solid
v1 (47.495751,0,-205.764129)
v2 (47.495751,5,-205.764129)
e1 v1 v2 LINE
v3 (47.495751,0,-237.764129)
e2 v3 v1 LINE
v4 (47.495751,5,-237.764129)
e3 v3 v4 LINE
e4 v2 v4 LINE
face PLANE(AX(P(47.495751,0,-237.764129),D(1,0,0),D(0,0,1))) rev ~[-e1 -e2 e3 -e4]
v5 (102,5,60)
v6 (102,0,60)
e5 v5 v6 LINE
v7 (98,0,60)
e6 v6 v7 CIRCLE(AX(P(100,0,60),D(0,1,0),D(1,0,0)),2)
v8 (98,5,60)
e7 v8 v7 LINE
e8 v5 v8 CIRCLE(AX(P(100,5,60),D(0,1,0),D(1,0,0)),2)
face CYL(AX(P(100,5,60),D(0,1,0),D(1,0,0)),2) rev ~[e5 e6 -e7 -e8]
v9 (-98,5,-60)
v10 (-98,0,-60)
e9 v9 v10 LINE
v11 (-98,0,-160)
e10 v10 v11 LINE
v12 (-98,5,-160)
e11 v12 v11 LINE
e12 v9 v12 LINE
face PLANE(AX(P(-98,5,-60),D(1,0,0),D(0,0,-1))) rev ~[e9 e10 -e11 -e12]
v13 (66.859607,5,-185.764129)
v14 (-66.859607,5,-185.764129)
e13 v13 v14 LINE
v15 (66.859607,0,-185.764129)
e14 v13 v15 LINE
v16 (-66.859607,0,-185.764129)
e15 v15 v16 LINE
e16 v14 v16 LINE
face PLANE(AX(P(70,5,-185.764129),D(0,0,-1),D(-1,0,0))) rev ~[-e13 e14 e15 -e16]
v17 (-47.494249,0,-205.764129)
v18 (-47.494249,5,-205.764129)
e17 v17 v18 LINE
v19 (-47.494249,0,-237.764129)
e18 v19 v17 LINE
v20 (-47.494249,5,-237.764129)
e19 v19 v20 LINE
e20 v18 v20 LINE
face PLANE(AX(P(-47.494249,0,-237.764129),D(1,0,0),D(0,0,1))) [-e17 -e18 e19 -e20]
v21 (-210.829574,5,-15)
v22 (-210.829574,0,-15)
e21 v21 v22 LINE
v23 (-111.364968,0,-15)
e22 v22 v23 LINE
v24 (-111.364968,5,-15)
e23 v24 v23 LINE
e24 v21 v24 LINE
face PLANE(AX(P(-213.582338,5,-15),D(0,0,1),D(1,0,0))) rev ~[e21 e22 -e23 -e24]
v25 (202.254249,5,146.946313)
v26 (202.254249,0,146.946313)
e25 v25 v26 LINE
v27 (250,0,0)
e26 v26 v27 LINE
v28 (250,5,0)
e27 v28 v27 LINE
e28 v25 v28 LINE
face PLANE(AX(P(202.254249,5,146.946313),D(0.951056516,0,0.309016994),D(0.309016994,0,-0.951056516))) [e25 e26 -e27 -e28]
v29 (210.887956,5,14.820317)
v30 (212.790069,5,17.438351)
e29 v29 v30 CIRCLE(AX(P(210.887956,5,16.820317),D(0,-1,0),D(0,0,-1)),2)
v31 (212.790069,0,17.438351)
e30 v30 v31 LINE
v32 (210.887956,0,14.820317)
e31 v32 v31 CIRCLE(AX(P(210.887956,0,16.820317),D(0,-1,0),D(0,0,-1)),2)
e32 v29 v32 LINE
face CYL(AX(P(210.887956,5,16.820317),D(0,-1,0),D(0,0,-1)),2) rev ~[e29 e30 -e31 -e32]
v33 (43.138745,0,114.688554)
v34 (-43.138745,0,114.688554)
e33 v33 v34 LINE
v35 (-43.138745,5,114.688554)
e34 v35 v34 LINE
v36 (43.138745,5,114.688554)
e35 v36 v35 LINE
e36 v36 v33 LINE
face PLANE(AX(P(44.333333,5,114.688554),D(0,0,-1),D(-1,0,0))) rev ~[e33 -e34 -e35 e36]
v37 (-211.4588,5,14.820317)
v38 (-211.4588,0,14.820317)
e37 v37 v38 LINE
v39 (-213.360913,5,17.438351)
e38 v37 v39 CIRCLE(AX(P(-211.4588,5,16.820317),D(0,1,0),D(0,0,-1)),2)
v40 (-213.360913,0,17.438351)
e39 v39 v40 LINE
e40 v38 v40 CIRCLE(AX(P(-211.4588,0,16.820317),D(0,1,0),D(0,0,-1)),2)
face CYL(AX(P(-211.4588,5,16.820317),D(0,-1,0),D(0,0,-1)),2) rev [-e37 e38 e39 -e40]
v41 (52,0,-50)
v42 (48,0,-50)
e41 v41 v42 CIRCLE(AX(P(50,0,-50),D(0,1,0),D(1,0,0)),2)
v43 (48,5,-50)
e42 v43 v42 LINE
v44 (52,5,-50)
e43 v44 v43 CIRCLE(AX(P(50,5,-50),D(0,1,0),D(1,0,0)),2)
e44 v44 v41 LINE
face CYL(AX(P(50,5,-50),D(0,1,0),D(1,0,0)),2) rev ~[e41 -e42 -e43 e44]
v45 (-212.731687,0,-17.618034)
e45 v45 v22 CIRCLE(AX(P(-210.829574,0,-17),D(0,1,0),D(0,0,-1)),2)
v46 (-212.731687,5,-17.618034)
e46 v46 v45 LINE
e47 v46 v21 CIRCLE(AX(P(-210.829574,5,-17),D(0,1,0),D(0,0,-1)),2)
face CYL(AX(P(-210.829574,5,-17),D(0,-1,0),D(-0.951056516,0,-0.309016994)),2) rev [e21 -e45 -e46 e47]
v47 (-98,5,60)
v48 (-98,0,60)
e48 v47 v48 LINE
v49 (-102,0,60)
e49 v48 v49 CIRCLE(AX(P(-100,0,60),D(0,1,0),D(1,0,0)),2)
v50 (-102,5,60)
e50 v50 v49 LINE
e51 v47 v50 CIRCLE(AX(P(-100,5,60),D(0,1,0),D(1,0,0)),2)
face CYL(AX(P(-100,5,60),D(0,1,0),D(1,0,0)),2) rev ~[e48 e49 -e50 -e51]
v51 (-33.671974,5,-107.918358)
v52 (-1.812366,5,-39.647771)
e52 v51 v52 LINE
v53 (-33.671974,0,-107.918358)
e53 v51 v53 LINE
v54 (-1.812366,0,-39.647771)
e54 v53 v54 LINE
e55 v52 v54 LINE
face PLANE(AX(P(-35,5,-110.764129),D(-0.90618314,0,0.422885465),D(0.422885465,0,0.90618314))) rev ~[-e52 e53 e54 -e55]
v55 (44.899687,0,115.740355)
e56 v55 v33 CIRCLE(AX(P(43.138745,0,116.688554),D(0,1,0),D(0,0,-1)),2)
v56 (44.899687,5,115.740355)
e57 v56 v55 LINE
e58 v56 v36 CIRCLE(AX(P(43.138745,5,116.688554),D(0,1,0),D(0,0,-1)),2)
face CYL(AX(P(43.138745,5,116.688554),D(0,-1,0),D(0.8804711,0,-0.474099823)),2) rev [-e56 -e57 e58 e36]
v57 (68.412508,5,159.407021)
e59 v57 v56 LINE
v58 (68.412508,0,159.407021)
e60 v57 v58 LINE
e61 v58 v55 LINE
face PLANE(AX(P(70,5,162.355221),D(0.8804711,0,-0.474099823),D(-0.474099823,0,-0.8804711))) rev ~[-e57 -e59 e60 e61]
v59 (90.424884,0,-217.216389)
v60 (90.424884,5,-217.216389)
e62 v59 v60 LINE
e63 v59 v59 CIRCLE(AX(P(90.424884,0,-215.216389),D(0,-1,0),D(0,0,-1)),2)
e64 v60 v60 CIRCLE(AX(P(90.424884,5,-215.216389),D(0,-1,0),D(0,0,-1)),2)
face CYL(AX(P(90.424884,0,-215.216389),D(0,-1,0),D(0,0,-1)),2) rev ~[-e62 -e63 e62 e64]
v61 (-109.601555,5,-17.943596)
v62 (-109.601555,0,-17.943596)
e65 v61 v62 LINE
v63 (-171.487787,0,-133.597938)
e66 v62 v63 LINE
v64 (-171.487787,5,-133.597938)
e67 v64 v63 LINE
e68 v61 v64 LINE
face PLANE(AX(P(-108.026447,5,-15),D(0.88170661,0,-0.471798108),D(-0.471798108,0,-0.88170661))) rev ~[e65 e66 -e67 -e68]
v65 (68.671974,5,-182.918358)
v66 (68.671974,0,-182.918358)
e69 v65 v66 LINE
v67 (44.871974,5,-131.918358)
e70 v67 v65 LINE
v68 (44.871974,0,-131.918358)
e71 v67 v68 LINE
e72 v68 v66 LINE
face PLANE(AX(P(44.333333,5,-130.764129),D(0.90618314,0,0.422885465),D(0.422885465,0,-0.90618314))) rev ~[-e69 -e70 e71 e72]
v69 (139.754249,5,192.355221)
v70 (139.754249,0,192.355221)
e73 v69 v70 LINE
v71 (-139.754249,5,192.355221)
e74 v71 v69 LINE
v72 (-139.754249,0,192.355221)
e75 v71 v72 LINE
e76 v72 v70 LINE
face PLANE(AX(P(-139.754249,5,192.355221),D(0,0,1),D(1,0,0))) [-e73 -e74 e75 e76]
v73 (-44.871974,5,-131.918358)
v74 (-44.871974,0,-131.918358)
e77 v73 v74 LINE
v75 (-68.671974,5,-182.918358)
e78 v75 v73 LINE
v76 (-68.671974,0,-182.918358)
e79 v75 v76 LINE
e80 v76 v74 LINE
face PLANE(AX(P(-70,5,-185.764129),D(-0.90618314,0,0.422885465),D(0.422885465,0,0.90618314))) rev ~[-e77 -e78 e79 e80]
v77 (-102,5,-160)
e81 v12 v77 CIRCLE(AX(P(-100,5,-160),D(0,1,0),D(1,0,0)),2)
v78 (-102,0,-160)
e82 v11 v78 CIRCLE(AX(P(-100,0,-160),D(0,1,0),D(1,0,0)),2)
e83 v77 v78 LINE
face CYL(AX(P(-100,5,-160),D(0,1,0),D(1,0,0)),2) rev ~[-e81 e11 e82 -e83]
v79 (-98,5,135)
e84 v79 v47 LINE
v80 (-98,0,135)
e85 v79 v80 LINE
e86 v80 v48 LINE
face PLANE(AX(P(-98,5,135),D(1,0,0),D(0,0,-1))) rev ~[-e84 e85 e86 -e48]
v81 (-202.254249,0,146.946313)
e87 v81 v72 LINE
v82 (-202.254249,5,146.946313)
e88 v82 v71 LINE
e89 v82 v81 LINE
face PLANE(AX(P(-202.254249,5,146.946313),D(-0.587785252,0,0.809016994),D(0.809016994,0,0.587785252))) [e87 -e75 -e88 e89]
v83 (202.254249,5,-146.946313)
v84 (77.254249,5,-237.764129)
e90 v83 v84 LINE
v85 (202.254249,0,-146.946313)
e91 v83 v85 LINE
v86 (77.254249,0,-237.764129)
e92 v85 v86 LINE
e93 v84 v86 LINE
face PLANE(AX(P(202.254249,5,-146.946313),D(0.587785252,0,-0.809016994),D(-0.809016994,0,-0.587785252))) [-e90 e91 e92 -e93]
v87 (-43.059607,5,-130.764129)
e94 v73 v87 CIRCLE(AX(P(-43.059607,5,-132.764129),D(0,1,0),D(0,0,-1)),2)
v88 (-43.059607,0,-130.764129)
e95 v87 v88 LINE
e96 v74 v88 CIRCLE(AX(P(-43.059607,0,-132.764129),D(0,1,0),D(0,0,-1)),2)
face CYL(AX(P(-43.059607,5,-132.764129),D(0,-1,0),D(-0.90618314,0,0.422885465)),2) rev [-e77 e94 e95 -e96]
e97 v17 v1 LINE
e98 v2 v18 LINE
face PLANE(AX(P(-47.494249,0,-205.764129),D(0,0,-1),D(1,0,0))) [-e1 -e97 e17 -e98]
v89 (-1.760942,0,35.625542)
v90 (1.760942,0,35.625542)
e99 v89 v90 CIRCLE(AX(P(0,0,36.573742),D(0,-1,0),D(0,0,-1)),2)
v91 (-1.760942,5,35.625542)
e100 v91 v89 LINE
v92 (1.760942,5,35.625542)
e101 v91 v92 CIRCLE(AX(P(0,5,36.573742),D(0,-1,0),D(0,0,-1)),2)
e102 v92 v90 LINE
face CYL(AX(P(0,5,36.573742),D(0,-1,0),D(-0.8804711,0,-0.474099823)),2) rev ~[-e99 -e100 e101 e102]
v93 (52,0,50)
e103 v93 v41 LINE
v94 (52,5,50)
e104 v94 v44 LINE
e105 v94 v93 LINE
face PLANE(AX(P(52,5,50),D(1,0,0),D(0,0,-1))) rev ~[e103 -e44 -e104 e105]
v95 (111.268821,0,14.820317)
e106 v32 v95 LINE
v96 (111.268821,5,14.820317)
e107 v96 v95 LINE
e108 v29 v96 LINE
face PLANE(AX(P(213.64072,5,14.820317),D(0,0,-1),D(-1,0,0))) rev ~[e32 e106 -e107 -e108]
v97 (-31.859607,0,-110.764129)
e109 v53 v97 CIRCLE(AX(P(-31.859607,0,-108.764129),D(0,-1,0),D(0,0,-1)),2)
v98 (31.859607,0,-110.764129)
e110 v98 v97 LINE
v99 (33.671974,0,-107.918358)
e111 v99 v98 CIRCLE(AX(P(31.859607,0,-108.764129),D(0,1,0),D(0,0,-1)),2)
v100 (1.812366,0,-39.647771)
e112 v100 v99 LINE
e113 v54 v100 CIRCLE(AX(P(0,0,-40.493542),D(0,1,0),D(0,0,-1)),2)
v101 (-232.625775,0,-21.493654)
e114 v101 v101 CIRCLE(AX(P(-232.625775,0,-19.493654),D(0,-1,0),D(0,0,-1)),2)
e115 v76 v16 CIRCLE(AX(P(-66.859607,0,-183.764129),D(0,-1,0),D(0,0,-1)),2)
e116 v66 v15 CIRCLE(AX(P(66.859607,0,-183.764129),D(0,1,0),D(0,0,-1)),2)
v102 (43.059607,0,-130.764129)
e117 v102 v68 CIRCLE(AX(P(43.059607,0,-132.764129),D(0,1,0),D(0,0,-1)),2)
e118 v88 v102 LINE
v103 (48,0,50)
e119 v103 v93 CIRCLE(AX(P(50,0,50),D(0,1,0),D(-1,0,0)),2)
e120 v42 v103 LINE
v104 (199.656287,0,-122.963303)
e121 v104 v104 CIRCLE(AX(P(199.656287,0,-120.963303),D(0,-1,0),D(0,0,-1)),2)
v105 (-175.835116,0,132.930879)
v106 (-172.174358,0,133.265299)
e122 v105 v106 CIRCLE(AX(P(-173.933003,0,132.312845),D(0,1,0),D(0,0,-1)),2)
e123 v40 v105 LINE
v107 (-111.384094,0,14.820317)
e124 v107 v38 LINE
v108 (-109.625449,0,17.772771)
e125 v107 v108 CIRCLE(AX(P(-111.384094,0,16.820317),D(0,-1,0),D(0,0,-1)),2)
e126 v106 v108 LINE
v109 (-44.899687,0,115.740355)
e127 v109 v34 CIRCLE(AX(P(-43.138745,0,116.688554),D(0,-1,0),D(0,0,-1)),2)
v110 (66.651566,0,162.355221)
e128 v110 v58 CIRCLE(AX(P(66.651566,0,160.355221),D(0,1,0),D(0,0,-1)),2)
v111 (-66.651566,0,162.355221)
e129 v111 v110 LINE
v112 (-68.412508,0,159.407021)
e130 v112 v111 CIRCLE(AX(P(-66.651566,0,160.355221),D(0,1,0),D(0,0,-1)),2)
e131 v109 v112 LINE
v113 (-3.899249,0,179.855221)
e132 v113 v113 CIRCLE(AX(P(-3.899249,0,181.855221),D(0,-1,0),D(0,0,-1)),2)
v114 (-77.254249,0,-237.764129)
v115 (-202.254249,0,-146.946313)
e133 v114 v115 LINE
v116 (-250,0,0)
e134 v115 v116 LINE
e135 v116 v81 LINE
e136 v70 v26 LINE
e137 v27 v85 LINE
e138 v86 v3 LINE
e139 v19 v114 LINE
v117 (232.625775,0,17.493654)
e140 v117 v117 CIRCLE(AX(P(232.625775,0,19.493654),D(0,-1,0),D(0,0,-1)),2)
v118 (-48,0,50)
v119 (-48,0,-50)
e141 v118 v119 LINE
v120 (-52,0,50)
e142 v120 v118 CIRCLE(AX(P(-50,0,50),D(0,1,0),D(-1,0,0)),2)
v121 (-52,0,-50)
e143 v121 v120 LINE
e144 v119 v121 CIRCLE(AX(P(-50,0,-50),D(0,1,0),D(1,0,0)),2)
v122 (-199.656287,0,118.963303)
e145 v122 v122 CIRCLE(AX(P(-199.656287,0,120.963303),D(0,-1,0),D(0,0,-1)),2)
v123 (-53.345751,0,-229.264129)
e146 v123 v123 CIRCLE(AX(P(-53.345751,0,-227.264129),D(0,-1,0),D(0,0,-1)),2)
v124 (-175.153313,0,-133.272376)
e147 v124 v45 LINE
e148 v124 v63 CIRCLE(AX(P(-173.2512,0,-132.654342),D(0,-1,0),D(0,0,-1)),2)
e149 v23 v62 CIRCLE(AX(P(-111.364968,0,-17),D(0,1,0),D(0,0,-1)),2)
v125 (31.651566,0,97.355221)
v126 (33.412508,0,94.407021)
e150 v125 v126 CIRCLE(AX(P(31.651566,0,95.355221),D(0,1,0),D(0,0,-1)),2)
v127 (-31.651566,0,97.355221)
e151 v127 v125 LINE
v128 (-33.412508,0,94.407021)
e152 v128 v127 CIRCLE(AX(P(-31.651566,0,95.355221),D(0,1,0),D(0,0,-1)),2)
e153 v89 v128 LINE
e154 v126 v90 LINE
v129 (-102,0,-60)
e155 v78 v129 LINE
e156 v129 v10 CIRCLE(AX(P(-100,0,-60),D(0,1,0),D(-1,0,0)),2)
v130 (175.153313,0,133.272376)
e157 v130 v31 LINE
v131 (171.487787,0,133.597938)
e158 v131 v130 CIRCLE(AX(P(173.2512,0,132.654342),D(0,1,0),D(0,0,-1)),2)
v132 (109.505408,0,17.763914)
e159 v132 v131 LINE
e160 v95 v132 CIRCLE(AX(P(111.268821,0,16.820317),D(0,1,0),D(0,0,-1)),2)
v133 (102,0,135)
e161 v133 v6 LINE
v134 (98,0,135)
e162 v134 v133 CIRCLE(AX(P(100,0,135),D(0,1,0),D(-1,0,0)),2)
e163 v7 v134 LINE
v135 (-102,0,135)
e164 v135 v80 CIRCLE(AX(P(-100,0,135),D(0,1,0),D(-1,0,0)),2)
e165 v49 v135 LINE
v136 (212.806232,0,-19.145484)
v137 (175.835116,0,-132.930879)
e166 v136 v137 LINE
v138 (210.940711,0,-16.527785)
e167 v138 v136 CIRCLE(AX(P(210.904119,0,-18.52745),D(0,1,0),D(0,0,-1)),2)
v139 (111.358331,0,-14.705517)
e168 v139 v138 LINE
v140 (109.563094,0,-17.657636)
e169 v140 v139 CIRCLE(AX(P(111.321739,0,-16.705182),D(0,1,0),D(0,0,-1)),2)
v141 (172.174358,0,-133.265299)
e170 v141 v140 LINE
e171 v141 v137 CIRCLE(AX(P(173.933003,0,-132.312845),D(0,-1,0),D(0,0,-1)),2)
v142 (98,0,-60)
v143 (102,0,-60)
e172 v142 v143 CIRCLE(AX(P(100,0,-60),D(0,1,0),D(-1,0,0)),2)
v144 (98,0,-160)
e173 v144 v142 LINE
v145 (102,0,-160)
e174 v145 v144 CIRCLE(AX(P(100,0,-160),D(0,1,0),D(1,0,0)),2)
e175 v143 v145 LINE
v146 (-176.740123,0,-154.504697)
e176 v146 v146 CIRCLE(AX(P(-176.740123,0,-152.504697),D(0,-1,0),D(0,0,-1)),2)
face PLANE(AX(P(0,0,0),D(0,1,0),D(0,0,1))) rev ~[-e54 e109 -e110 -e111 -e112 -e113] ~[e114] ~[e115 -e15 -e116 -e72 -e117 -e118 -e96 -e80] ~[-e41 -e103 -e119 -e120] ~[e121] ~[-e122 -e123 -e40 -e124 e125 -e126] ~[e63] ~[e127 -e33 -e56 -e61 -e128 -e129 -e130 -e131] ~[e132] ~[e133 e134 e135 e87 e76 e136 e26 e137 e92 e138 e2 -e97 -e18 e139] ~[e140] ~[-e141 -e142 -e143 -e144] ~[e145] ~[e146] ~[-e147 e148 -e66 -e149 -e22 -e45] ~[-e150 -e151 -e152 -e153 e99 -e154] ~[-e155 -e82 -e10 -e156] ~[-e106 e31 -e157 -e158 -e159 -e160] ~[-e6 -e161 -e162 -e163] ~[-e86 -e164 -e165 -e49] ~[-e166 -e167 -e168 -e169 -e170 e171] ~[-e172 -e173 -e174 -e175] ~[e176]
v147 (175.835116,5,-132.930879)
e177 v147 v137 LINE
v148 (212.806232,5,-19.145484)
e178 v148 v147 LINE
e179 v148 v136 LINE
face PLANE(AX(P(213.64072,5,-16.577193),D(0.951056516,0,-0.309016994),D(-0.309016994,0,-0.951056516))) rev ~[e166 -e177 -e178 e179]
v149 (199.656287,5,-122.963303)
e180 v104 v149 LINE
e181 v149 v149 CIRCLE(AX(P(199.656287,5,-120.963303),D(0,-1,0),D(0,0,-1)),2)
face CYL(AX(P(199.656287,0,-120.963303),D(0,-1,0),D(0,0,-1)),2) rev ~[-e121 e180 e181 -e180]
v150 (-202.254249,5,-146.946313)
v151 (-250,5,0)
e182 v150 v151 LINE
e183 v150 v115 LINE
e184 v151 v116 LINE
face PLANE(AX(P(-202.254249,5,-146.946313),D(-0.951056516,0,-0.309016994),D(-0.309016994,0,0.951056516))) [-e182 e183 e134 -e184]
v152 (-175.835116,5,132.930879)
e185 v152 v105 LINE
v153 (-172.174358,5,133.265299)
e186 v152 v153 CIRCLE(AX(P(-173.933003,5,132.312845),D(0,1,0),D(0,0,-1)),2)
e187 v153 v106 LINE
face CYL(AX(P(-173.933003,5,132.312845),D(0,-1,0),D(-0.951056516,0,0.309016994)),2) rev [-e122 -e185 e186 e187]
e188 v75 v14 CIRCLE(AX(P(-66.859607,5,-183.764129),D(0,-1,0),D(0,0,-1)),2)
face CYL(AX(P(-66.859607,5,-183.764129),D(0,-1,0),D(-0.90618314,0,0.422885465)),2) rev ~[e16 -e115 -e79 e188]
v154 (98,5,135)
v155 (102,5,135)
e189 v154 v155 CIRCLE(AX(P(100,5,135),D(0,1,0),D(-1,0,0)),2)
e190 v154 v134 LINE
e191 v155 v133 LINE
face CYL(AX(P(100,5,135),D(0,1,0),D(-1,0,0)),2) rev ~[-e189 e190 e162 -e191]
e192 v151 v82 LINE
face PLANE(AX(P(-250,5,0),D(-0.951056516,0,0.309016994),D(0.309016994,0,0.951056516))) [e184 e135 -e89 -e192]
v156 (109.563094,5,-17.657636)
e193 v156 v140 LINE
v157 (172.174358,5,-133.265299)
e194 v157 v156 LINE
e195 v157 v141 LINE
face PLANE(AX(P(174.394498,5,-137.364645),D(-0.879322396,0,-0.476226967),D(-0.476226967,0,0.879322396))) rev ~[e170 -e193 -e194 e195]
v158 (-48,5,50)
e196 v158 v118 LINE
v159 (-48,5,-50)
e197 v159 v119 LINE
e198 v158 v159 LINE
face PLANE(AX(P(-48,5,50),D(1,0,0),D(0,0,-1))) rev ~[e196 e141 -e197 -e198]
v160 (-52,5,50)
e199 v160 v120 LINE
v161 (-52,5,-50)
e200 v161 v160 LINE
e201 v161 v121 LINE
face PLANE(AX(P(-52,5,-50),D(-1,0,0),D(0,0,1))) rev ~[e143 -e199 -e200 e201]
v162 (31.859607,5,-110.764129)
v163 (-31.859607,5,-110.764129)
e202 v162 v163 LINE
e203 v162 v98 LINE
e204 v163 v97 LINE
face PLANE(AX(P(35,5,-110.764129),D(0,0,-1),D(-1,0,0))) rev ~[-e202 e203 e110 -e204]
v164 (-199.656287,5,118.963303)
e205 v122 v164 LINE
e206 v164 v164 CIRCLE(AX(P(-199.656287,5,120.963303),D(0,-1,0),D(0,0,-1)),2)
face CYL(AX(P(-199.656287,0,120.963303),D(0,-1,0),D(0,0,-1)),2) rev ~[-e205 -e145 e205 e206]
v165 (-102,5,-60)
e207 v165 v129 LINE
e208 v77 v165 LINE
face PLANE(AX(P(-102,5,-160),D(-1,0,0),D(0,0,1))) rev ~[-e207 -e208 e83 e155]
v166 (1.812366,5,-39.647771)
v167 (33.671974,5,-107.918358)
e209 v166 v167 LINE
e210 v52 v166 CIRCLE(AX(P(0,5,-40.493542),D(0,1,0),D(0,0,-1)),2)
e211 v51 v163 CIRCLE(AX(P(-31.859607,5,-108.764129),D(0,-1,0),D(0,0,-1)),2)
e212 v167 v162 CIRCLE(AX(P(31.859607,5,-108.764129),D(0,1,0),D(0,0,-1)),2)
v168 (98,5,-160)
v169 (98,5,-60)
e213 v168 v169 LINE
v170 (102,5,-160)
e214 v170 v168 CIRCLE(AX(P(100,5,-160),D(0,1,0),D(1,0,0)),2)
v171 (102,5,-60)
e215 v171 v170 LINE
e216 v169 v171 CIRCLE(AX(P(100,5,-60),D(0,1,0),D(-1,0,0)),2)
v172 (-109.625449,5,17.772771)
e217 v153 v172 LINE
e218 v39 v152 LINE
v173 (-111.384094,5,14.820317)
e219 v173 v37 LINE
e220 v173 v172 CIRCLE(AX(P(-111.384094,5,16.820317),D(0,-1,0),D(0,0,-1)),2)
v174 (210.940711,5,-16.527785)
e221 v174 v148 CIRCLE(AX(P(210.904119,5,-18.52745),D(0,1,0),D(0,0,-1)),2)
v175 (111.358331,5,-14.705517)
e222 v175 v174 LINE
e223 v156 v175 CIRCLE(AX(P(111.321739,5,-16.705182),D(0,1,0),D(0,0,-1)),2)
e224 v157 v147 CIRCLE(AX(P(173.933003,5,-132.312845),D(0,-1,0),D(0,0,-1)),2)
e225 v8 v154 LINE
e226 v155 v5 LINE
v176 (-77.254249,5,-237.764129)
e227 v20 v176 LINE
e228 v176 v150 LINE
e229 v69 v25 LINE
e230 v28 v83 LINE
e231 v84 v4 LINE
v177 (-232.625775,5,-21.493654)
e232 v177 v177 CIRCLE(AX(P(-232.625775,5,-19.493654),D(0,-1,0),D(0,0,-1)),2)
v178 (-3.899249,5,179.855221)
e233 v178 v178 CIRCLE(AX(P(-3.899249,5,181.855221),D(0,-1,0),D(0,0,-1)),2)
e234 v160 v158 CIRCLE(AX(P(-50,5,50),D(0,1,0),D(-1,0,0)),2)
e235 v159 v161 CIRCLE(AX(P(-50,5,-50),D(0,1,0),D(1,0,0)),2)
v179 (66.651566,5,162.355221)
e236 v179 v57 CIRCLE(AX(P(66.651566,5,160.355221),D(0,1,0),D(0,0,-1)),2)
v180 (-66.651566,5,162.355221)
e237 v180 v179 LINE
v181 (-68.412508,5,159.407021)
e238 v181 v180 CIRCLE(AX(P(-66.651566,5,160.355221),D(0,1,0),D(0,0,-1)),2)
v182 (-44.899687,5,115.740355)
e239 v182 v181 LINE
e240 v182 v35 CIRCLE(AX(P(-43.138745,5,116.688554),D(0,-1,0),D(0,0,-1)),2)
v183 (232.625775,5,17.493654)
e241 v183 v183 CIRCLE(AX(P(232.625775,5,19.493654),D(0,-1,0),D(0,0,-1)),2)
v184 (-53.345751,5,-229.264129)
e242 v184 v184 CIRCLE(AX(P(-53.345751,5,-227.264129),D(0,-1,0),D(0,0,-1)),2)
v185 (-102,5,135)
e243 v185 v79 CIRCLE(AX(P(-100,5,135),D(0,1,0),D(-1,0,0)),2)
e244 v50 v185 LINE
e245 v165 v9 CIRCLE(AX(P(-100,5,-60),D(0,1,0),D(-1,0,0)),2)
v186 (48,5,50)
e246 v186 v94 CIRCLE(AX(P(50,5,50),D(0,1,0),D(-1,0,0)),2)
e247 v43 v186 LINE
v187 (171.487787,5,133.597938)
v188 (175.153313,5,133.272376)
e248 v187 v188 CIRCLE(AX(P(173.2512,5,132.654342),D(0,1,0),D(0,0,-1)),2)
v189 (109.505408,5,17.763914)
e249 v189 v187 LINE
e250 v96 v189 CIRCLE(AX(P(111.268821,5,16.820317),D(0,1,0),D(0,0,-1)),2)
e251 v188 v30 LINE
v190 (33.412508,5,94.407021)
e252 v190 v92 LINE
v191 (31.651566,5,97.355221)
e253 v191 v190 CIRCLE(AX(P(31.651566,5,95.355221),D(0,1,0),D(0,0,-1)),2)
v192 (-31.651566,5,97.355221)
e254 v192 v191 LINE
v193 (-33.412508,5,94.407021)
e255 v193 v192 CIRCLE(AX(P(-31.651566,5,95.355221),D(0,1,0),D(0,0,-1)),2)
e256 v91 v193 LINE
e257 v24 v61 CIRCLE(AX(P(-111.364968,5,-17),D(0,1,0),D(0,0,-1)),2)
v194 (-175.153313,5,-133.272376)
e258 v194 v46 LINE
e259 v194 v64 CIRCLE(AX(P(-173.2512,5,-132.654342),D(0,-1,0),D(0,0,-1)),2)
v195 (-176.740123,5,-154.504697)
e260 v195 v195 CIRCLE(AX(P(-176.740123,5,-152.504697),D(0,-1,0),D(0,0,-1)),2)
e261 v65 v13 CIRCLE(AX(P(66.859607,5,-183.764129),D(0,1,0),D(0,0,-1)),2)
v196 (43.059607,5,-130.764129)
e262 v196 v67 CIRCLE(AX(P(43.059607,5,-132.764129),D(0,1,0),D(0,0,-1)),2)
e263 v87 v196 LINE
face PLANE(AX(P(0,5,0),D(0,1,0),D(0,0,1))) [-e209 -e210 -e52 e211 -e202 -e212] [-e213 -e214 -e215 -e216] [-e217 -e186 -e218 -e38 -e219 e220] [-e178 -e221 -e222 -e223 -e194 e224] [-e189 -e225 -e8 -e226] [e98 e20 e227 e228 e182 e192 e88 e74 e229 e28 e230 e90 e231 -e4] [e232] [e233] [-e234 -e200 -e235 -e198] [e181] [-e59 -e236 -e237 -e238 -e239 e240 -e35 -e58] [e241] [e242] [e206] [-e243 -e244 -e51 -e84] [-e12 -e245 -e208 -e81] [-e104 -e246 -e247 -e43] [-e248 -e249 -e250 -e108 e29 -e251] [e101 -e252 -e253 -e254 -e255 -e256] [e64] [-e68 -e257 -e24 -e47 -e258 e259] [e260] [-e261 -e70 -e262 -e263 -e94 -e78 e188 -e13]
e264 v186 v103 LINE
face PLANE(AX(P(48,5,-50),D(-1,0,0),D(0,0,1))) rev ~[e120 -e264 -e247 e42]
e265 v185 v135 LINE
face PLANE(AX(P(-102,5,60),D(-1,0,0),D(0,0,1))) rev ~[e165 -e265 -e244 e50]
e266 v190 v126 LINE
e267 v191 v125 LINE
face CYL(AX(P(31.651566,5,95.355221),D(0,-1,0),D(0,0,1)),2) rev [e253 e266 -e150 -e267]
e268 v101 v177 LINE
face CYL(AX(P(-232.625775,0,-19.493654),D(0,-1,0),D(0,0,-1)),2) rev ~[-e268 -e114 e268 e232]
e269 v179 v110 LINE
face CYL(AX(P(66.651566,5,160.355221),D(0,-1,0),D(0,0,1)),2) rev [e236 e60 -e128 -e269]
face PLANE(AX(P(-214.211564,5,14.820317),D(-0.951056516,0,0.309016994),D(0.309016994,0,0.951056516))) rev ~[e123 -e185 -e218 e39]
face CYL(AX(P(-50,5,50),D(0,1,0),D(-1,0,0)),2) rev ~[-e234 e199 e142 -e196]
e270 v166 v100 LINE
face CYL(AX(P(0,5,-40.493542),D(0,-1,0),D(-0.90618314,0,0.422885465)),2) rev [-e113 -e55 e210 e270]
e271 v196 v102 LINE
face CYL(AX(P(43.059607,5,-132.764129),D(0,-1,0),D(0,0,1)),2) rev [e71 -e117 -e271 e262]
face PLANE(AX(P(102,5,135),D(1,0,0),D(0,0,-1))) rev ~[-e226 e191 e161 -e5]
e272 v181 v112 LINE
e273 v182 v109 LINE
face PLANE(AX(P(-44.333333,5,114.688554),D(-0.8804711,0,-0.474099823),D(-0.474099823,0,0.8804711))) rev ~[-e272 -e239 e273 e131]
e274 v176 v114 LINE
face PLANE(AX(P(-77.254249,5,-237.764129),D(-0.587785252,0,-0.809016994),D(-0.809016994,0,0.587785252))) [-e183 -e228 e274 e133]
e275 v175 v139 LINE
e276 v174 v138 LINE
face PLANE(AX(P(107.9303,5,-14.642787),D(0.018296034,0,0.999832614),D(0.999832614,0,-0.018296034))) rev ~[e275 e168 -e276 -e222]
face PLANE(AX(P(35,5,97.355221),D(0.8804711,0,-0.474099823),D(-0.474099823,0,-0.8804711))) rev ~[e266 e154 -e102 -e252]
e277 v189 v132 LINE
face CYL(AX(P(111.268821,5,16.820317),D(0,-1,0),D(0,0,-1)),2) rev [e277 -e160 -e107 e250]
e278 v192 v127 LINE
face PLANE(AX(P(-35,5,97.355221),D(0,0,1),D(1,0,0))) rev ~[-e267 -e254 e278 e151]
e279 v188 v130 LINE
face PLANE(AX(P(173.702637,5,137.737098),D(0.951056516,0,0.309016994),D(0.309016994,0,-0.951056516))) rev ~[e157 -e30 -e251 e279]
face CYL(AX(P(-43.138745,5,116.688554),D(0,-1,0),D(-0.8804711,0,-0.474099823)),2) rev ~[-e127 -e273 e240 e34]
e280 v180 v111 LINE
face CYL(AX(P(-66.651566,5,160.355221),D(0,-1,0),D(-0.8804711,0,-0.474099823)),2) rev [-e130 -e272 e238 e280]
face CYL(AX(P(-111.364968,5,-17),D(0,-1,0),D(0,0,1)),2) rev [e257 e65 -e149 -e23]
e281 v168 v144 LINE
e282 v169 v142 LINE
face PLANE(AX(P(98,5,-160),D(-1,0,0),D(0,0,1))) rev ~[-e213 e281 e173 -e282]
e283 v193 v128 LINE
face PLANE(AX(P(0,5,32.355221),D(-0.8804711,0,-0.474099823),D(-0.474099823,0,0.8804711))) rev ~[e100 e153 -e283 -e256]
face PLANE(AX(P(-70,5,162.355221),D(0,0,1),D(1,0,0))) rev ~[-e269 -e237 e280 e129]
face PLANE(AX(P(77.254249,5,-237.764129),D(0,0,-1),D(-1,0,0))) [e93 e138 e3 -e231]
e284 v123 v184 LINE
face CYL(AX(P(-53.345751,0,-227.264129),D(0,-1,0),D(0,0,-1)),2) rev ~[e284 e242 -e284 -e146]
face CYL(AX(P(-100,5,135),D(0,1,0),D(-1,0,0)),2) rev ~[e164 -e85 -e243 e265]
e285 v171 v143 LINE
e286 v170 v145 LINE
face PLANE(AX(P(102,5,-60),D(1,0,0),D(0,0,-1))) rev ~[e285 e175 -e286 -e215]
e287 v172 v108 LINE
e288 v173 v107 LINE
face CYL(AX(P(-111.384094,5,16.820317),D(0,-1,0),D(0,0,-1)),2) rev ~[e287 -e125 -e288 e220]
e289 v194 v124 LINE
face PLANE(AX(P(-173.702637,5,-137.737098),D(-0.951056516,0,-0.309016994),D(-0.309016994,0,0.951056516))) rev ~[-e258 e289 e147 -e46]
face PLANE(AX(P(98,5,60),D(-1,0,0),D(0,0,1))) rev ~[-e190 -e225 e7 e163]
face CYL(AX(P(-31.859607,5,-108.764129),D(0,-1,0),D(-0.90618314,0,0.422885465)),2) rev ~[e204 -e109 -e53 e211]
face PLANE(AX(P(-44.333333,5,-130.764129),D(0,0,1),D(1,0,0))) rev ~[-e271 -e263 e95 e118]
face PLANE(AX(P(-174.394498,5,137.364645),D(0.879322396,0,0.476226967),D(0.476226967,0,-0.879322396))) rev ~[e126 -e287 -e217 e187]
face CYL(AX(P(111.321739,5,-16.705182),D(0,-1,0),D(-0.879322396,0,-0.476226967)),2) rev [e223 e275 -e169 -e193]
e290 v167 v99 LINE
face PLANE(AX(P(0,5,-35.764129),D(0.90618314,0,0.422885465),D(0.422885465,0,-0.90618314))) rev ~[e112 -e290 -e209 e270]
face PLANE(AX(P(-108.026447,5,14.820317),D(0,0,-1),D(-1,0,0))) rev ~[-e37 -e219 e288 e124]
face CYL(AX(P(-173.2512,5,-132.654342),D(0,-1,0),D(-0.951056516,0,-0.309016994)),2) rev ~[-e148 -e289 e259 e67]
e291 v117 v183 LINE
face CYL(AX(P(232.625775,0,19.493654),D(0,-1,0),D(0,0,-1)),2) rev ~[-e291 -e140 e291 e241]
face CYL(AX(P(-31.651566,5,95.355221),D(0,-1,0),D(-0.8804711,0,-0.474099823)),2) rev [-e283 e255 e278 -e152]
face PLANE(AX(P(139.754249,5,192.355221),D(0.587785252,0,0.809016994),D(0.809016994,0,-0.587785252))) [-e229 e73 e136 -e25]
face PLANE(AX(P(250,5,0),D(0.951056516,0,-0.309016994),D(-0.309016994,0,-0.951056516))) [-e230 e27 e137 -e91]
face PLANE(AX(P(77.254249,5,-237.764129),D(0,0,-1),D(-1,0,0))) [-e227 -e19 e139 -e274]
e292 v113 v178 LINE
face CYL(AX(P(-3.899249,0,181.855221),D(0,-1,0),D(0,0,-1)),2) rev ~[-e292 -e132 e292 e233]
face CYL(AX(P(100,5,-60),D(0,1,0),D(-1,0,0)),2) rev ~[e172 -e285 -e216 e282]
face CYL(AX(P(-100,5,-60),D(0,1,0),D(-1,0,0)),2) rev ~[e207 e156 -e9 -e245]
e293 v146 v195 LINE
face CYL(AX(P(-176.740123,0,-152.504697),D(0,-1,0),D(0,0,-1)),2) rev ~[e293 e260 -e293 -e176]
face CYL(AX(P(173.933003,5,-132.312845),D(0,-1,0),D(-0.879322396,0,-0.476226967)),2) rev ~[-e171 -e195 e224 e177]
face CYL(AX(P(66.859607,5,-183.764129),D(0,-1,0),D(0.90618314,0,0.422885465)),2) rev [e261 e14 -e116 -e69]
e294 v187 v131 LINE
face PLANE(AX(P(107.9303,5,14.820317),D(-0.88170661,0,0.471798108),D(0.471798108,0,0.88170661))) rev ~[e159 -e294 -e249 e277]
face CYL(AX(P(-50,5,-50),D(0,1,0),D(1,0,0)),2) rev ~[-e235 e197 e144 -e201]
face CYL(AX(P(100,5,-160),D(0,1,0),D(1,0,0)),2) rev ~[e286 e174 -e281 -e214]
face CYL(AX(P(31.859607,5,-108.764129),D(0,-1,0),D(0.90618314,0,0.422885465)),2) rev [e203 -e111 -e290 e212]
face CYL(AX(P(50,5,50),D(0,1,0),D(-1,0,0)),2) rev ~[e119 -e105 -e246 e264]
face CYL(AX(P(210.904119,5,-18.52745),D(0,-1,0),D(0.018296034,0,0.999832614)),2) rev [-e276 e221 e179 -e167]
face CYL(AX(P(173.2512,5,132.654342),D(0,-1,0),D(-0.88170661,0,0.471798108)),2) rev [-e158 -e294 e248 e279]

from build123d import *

# Parameters (mm, degrees)
SKETCH1_R           = 250
BOSS_EXTRUDE1_DEPTH = 5
SKETCH5_OUTSIDE_W   = 643.424
SKETCH5_OUTSIDE_H   = 643.424
CUT_EXTRUDE4_DEPTH  = 6
SKETCH6_R           = 2
CUT_EXTRUDE5_DEPTH  = 346.046056454
CUT_EXTRUDE6_DEPTH  = 346.046056454
SKETCH8_W           = 94.99
SKETCH8_H           = 32
CUT_EXTRUDE7_DEPTH  = 346.046056454
CUT_EXTRUDE8_DEPTH  = 346.046056454
FILLET1_R           = 2


with BuildPart() as part:
    # Sketch1 → Boss-Extrude1 (new body)
    with BuildSketch(Plane(origin=(0, 0, 0), x_dir=(1, 0, 0), z_dir=(0, 1, 0))):
        with Locations(Location((0, 0, 0), (0, 0, 270))):
            Circle(SKETCH1_R)
    extrude(amount=BOSS_EXTRUDE1_DEPTH)

    # Sketch5 outside → Cut-Extrude4 (cut)
    with BuildSketch(Plane(origin=(0, 5, 0), x_dir=(1, 0, 0), z_dir=(0, 1, 0))):
        Rectangle(SKETCH5_OUTSIDE_W, SKETCH5_OUTSIDE_H)
        Polygon((-139.754248594, -192.355221073), (139.754248594, -192.355221073), (202.254248594, -146.946313073), (250, 0), (202.254248594, 146.946313073), (77.254248594, 237.764129074), (-77.254248594, 237.764129074), (-202.254248594, 146.946313073), (-250, 0), (-202.254248594, -146.946313073), align=None, mode=Mode.SUBTRACT)
    extrude(amount=-CUT_EXTRUDE4_DEPTH, mode=Mode.SUBTRACT)

    # Sketch6 → Cut-Extrude5 (cut, through all)
    with BuildSketch(Plane.XZ):
        with Locations(Location((-3.899248594, 181.855221073, 0), (0, 0, 270))):
            Circle(SKETCH6_R)
        with Locations(Location((-199.656287114, 120.963302587, 0), (0, 0, 270))):
            Circle(SKETCH6_R)
        with Locations(Location((-232.625774638, -19.493653604, 0), (0, 0, 270))):
            Circle(SKETCH6_R)
        with Locations(Location((-176.74012291, -152.504696683, 0), (0, 0, 270))):
            Circle(SKETCH6_R)
        with Locations(Location((-53.345751406, -227.264129074, 0), (0, 0, 270))):
            Circle(SKETCH6_R)
        with Locations(Location((90.424883979, -215.216388582, 0), (0, 0, 270))):
            Circle(SKETCH6_R)
        with Locations(Location((199.656287114, -120.963302587, 0), (0, 0, 270))):
            Circle(SKETCH6_R)
        with Locations(Location((232.625774638, 19.493653604, 0), (0, 0, 270))):
            Circle(SKETCH6_R)
    extrude(amount=-CUT_EXTRUDE5_DEPTH, mode=Mode.SUBTRACT)

    # Sketch7 → Cut-Extrude6 (cut, through all)
    with BuildSketch(Plane(origin=(0, 5, 0), x_dir=(1, 0, 0), z_dir=(0, 1, 0))):
        with BuildLine():
            Line((98, 160), (98, 60))
            ThreePointArc((98, 60), (100, 58), (102, 60))
            Line((102, 60), (102, 160))
            ThreePointArc((102, 160), (100, 162), (98, 160))
        make_face()
        with BuildLine():
            Line((-48, -50), (-48, 50))
            ThreePointArc((-48, 50), (-50, 52), (-52, 50))
            Line((-52, 50), (-52, -50))
            ThreePointArc((-52, -50), (-50, -52), (-48, -50))
        make_face()
        with BuildLine():
            Line((52, -50), (52, 50))
            ThreePointArc((52, 50), (50, 52), (48, 50))
            Line((48, 50), (48, -50))
            ThreePointArc((48, -50), (50, -52), (52, -50))
        make_face()
        with BuildLine():
            Line((102, -135), (102, -60))
            ThreePointArc((102, -60), (100, -58), (98, -60))
            Line((98, -60), (98, -135))
            ThreePointArc((98, -135), (100, -137), (102, -135))
        make_face()
        with BuildLine():
            Line((-98, -135), (-98, -60))
            ThreePointArc((-98, -60), (-100, -58), (-102, -60))
            Line((-102, -60), (-102, -135))
            ThreePointArc((-102, -135), (-100, -137), (-98, -135))
        make_face()
        with BuildLine():
            Line((-98, 60), (-98, 160))
            ThreePointArc((-98, 160), (-100, 162), (-102, 160))
            Line((-102, 160), (-102, 60))
            ThreePointArc((-102, 60), (-100, 58), (-98, 60))
        make_face()
    extrude(amount=-CUT_EXTRUDE6_DEPTH, mode=Mode.SUBTRACT)

    # Sketch8 → Cut-Extrude7 (cut, through all)
    with BuildSketch(Plane.XZ):
        with Locations((0.000751406, -221.764129074)):
            Rectangle(SKETCH8_W, SKETCH8_H)
    extrude(amount=-CUT_EXTRUDE7_DEPTH, mode=Mode.SUBTRACT)

    # Sketch9 → Cut-Extrude8 (cut, through all)
    with BuildSketch(Plane(origin=(0, 5, 0), x_dir=(1, 0, 0), z_dir=(0, 1, 0))):
        Polygon((-108.026447281, -14.820317486), (-214.211563551, -14.820317486), (-174.39449797, -137.364644721), align=None)
        Polygon((-173.702637163, 137.737098208), (-213.582337829, 15), (-108.026447281, 15), align=None)
        Polygon((-70, 185.764129074), (-44.333333333, 130.764129074), (44.333333333, 130.764129074), (70, 185.764129074), align=None)
        Polygon((-35, 110.764129074), (0, 35.764129074), (35, 110.764129074), align=None)
        Polygon((0, -32.355221073), (-35, -97.355221073), (35, -97.355221073), align=None)
        Polygon((-44.333333333, -114.688554407), (-70, -162.355221073), (70, -162.355221073), (44.333333333, -114.688554407), align=None)
        Polygon((213.640720217, -14.820317486), (107.9302998, -14.820317486), (173.702637163, -137.737098208), align=None)
        Polygon((174.39449797, 137.364644721), (107.9302998, 14.64278736), (213.640720217, 16.577192616), align=None)
    extrude(amount=-CUT_EXTRUDE8_DEPTH, mode=Mode.SUBTRACT)

    # Fillet1
    fillet1_edges = [part.edges().sort_by_distance(p)[0] for p in [
        (-108.026447281, 2.5, 14.820317486),
        (-174.39449797, 2.5, 137.364644721),
        (-214.211563551, 2.5, 14.820317486),
        (-108.026447281, 2.5, -15),
        (-213.582337829, 2.5, -15),
        (-173.702637163, 2.5, -137.737098208),
        (-44.333333333, 2.5, -130.764129074),
        (-70, 2.5, -185.764129074),
        (70, 2.5, -185.764129074),
        (44.333333333, 2.5, -130.764129074),
        (-35, 2.5, -110.764129074),
        (35, 2.5, -110.764129074),
        (0, 2.5, -35.764129074),
        (-35, 2.5, 97.355221073),
        (0, 2.5, 32.355221073),
        (35, 2.5, 97.355221073),
        (-44.333333333, 2.5, 114.688554407),
        (44.333333333, 2.5, 114.688554407),
        (70, 2.5, 162.355221073),
        (-70, 2.5, 162.355221073),
        (107.9302998, 2.5, 14.820317486),
        (213.640720217, 2.5, 14.820317486),
        (173.702637163, 2.5, 137.737098208),
        (213.640720217, 2.5, -16.577192616),
        (107.9302998, 2.5, -14.64278736),
        (174.39449797, 2.5, -137.364644721),
    ]]
    fillet(fillet1_edges, radius=FILLET1_R)


solid = part.part
